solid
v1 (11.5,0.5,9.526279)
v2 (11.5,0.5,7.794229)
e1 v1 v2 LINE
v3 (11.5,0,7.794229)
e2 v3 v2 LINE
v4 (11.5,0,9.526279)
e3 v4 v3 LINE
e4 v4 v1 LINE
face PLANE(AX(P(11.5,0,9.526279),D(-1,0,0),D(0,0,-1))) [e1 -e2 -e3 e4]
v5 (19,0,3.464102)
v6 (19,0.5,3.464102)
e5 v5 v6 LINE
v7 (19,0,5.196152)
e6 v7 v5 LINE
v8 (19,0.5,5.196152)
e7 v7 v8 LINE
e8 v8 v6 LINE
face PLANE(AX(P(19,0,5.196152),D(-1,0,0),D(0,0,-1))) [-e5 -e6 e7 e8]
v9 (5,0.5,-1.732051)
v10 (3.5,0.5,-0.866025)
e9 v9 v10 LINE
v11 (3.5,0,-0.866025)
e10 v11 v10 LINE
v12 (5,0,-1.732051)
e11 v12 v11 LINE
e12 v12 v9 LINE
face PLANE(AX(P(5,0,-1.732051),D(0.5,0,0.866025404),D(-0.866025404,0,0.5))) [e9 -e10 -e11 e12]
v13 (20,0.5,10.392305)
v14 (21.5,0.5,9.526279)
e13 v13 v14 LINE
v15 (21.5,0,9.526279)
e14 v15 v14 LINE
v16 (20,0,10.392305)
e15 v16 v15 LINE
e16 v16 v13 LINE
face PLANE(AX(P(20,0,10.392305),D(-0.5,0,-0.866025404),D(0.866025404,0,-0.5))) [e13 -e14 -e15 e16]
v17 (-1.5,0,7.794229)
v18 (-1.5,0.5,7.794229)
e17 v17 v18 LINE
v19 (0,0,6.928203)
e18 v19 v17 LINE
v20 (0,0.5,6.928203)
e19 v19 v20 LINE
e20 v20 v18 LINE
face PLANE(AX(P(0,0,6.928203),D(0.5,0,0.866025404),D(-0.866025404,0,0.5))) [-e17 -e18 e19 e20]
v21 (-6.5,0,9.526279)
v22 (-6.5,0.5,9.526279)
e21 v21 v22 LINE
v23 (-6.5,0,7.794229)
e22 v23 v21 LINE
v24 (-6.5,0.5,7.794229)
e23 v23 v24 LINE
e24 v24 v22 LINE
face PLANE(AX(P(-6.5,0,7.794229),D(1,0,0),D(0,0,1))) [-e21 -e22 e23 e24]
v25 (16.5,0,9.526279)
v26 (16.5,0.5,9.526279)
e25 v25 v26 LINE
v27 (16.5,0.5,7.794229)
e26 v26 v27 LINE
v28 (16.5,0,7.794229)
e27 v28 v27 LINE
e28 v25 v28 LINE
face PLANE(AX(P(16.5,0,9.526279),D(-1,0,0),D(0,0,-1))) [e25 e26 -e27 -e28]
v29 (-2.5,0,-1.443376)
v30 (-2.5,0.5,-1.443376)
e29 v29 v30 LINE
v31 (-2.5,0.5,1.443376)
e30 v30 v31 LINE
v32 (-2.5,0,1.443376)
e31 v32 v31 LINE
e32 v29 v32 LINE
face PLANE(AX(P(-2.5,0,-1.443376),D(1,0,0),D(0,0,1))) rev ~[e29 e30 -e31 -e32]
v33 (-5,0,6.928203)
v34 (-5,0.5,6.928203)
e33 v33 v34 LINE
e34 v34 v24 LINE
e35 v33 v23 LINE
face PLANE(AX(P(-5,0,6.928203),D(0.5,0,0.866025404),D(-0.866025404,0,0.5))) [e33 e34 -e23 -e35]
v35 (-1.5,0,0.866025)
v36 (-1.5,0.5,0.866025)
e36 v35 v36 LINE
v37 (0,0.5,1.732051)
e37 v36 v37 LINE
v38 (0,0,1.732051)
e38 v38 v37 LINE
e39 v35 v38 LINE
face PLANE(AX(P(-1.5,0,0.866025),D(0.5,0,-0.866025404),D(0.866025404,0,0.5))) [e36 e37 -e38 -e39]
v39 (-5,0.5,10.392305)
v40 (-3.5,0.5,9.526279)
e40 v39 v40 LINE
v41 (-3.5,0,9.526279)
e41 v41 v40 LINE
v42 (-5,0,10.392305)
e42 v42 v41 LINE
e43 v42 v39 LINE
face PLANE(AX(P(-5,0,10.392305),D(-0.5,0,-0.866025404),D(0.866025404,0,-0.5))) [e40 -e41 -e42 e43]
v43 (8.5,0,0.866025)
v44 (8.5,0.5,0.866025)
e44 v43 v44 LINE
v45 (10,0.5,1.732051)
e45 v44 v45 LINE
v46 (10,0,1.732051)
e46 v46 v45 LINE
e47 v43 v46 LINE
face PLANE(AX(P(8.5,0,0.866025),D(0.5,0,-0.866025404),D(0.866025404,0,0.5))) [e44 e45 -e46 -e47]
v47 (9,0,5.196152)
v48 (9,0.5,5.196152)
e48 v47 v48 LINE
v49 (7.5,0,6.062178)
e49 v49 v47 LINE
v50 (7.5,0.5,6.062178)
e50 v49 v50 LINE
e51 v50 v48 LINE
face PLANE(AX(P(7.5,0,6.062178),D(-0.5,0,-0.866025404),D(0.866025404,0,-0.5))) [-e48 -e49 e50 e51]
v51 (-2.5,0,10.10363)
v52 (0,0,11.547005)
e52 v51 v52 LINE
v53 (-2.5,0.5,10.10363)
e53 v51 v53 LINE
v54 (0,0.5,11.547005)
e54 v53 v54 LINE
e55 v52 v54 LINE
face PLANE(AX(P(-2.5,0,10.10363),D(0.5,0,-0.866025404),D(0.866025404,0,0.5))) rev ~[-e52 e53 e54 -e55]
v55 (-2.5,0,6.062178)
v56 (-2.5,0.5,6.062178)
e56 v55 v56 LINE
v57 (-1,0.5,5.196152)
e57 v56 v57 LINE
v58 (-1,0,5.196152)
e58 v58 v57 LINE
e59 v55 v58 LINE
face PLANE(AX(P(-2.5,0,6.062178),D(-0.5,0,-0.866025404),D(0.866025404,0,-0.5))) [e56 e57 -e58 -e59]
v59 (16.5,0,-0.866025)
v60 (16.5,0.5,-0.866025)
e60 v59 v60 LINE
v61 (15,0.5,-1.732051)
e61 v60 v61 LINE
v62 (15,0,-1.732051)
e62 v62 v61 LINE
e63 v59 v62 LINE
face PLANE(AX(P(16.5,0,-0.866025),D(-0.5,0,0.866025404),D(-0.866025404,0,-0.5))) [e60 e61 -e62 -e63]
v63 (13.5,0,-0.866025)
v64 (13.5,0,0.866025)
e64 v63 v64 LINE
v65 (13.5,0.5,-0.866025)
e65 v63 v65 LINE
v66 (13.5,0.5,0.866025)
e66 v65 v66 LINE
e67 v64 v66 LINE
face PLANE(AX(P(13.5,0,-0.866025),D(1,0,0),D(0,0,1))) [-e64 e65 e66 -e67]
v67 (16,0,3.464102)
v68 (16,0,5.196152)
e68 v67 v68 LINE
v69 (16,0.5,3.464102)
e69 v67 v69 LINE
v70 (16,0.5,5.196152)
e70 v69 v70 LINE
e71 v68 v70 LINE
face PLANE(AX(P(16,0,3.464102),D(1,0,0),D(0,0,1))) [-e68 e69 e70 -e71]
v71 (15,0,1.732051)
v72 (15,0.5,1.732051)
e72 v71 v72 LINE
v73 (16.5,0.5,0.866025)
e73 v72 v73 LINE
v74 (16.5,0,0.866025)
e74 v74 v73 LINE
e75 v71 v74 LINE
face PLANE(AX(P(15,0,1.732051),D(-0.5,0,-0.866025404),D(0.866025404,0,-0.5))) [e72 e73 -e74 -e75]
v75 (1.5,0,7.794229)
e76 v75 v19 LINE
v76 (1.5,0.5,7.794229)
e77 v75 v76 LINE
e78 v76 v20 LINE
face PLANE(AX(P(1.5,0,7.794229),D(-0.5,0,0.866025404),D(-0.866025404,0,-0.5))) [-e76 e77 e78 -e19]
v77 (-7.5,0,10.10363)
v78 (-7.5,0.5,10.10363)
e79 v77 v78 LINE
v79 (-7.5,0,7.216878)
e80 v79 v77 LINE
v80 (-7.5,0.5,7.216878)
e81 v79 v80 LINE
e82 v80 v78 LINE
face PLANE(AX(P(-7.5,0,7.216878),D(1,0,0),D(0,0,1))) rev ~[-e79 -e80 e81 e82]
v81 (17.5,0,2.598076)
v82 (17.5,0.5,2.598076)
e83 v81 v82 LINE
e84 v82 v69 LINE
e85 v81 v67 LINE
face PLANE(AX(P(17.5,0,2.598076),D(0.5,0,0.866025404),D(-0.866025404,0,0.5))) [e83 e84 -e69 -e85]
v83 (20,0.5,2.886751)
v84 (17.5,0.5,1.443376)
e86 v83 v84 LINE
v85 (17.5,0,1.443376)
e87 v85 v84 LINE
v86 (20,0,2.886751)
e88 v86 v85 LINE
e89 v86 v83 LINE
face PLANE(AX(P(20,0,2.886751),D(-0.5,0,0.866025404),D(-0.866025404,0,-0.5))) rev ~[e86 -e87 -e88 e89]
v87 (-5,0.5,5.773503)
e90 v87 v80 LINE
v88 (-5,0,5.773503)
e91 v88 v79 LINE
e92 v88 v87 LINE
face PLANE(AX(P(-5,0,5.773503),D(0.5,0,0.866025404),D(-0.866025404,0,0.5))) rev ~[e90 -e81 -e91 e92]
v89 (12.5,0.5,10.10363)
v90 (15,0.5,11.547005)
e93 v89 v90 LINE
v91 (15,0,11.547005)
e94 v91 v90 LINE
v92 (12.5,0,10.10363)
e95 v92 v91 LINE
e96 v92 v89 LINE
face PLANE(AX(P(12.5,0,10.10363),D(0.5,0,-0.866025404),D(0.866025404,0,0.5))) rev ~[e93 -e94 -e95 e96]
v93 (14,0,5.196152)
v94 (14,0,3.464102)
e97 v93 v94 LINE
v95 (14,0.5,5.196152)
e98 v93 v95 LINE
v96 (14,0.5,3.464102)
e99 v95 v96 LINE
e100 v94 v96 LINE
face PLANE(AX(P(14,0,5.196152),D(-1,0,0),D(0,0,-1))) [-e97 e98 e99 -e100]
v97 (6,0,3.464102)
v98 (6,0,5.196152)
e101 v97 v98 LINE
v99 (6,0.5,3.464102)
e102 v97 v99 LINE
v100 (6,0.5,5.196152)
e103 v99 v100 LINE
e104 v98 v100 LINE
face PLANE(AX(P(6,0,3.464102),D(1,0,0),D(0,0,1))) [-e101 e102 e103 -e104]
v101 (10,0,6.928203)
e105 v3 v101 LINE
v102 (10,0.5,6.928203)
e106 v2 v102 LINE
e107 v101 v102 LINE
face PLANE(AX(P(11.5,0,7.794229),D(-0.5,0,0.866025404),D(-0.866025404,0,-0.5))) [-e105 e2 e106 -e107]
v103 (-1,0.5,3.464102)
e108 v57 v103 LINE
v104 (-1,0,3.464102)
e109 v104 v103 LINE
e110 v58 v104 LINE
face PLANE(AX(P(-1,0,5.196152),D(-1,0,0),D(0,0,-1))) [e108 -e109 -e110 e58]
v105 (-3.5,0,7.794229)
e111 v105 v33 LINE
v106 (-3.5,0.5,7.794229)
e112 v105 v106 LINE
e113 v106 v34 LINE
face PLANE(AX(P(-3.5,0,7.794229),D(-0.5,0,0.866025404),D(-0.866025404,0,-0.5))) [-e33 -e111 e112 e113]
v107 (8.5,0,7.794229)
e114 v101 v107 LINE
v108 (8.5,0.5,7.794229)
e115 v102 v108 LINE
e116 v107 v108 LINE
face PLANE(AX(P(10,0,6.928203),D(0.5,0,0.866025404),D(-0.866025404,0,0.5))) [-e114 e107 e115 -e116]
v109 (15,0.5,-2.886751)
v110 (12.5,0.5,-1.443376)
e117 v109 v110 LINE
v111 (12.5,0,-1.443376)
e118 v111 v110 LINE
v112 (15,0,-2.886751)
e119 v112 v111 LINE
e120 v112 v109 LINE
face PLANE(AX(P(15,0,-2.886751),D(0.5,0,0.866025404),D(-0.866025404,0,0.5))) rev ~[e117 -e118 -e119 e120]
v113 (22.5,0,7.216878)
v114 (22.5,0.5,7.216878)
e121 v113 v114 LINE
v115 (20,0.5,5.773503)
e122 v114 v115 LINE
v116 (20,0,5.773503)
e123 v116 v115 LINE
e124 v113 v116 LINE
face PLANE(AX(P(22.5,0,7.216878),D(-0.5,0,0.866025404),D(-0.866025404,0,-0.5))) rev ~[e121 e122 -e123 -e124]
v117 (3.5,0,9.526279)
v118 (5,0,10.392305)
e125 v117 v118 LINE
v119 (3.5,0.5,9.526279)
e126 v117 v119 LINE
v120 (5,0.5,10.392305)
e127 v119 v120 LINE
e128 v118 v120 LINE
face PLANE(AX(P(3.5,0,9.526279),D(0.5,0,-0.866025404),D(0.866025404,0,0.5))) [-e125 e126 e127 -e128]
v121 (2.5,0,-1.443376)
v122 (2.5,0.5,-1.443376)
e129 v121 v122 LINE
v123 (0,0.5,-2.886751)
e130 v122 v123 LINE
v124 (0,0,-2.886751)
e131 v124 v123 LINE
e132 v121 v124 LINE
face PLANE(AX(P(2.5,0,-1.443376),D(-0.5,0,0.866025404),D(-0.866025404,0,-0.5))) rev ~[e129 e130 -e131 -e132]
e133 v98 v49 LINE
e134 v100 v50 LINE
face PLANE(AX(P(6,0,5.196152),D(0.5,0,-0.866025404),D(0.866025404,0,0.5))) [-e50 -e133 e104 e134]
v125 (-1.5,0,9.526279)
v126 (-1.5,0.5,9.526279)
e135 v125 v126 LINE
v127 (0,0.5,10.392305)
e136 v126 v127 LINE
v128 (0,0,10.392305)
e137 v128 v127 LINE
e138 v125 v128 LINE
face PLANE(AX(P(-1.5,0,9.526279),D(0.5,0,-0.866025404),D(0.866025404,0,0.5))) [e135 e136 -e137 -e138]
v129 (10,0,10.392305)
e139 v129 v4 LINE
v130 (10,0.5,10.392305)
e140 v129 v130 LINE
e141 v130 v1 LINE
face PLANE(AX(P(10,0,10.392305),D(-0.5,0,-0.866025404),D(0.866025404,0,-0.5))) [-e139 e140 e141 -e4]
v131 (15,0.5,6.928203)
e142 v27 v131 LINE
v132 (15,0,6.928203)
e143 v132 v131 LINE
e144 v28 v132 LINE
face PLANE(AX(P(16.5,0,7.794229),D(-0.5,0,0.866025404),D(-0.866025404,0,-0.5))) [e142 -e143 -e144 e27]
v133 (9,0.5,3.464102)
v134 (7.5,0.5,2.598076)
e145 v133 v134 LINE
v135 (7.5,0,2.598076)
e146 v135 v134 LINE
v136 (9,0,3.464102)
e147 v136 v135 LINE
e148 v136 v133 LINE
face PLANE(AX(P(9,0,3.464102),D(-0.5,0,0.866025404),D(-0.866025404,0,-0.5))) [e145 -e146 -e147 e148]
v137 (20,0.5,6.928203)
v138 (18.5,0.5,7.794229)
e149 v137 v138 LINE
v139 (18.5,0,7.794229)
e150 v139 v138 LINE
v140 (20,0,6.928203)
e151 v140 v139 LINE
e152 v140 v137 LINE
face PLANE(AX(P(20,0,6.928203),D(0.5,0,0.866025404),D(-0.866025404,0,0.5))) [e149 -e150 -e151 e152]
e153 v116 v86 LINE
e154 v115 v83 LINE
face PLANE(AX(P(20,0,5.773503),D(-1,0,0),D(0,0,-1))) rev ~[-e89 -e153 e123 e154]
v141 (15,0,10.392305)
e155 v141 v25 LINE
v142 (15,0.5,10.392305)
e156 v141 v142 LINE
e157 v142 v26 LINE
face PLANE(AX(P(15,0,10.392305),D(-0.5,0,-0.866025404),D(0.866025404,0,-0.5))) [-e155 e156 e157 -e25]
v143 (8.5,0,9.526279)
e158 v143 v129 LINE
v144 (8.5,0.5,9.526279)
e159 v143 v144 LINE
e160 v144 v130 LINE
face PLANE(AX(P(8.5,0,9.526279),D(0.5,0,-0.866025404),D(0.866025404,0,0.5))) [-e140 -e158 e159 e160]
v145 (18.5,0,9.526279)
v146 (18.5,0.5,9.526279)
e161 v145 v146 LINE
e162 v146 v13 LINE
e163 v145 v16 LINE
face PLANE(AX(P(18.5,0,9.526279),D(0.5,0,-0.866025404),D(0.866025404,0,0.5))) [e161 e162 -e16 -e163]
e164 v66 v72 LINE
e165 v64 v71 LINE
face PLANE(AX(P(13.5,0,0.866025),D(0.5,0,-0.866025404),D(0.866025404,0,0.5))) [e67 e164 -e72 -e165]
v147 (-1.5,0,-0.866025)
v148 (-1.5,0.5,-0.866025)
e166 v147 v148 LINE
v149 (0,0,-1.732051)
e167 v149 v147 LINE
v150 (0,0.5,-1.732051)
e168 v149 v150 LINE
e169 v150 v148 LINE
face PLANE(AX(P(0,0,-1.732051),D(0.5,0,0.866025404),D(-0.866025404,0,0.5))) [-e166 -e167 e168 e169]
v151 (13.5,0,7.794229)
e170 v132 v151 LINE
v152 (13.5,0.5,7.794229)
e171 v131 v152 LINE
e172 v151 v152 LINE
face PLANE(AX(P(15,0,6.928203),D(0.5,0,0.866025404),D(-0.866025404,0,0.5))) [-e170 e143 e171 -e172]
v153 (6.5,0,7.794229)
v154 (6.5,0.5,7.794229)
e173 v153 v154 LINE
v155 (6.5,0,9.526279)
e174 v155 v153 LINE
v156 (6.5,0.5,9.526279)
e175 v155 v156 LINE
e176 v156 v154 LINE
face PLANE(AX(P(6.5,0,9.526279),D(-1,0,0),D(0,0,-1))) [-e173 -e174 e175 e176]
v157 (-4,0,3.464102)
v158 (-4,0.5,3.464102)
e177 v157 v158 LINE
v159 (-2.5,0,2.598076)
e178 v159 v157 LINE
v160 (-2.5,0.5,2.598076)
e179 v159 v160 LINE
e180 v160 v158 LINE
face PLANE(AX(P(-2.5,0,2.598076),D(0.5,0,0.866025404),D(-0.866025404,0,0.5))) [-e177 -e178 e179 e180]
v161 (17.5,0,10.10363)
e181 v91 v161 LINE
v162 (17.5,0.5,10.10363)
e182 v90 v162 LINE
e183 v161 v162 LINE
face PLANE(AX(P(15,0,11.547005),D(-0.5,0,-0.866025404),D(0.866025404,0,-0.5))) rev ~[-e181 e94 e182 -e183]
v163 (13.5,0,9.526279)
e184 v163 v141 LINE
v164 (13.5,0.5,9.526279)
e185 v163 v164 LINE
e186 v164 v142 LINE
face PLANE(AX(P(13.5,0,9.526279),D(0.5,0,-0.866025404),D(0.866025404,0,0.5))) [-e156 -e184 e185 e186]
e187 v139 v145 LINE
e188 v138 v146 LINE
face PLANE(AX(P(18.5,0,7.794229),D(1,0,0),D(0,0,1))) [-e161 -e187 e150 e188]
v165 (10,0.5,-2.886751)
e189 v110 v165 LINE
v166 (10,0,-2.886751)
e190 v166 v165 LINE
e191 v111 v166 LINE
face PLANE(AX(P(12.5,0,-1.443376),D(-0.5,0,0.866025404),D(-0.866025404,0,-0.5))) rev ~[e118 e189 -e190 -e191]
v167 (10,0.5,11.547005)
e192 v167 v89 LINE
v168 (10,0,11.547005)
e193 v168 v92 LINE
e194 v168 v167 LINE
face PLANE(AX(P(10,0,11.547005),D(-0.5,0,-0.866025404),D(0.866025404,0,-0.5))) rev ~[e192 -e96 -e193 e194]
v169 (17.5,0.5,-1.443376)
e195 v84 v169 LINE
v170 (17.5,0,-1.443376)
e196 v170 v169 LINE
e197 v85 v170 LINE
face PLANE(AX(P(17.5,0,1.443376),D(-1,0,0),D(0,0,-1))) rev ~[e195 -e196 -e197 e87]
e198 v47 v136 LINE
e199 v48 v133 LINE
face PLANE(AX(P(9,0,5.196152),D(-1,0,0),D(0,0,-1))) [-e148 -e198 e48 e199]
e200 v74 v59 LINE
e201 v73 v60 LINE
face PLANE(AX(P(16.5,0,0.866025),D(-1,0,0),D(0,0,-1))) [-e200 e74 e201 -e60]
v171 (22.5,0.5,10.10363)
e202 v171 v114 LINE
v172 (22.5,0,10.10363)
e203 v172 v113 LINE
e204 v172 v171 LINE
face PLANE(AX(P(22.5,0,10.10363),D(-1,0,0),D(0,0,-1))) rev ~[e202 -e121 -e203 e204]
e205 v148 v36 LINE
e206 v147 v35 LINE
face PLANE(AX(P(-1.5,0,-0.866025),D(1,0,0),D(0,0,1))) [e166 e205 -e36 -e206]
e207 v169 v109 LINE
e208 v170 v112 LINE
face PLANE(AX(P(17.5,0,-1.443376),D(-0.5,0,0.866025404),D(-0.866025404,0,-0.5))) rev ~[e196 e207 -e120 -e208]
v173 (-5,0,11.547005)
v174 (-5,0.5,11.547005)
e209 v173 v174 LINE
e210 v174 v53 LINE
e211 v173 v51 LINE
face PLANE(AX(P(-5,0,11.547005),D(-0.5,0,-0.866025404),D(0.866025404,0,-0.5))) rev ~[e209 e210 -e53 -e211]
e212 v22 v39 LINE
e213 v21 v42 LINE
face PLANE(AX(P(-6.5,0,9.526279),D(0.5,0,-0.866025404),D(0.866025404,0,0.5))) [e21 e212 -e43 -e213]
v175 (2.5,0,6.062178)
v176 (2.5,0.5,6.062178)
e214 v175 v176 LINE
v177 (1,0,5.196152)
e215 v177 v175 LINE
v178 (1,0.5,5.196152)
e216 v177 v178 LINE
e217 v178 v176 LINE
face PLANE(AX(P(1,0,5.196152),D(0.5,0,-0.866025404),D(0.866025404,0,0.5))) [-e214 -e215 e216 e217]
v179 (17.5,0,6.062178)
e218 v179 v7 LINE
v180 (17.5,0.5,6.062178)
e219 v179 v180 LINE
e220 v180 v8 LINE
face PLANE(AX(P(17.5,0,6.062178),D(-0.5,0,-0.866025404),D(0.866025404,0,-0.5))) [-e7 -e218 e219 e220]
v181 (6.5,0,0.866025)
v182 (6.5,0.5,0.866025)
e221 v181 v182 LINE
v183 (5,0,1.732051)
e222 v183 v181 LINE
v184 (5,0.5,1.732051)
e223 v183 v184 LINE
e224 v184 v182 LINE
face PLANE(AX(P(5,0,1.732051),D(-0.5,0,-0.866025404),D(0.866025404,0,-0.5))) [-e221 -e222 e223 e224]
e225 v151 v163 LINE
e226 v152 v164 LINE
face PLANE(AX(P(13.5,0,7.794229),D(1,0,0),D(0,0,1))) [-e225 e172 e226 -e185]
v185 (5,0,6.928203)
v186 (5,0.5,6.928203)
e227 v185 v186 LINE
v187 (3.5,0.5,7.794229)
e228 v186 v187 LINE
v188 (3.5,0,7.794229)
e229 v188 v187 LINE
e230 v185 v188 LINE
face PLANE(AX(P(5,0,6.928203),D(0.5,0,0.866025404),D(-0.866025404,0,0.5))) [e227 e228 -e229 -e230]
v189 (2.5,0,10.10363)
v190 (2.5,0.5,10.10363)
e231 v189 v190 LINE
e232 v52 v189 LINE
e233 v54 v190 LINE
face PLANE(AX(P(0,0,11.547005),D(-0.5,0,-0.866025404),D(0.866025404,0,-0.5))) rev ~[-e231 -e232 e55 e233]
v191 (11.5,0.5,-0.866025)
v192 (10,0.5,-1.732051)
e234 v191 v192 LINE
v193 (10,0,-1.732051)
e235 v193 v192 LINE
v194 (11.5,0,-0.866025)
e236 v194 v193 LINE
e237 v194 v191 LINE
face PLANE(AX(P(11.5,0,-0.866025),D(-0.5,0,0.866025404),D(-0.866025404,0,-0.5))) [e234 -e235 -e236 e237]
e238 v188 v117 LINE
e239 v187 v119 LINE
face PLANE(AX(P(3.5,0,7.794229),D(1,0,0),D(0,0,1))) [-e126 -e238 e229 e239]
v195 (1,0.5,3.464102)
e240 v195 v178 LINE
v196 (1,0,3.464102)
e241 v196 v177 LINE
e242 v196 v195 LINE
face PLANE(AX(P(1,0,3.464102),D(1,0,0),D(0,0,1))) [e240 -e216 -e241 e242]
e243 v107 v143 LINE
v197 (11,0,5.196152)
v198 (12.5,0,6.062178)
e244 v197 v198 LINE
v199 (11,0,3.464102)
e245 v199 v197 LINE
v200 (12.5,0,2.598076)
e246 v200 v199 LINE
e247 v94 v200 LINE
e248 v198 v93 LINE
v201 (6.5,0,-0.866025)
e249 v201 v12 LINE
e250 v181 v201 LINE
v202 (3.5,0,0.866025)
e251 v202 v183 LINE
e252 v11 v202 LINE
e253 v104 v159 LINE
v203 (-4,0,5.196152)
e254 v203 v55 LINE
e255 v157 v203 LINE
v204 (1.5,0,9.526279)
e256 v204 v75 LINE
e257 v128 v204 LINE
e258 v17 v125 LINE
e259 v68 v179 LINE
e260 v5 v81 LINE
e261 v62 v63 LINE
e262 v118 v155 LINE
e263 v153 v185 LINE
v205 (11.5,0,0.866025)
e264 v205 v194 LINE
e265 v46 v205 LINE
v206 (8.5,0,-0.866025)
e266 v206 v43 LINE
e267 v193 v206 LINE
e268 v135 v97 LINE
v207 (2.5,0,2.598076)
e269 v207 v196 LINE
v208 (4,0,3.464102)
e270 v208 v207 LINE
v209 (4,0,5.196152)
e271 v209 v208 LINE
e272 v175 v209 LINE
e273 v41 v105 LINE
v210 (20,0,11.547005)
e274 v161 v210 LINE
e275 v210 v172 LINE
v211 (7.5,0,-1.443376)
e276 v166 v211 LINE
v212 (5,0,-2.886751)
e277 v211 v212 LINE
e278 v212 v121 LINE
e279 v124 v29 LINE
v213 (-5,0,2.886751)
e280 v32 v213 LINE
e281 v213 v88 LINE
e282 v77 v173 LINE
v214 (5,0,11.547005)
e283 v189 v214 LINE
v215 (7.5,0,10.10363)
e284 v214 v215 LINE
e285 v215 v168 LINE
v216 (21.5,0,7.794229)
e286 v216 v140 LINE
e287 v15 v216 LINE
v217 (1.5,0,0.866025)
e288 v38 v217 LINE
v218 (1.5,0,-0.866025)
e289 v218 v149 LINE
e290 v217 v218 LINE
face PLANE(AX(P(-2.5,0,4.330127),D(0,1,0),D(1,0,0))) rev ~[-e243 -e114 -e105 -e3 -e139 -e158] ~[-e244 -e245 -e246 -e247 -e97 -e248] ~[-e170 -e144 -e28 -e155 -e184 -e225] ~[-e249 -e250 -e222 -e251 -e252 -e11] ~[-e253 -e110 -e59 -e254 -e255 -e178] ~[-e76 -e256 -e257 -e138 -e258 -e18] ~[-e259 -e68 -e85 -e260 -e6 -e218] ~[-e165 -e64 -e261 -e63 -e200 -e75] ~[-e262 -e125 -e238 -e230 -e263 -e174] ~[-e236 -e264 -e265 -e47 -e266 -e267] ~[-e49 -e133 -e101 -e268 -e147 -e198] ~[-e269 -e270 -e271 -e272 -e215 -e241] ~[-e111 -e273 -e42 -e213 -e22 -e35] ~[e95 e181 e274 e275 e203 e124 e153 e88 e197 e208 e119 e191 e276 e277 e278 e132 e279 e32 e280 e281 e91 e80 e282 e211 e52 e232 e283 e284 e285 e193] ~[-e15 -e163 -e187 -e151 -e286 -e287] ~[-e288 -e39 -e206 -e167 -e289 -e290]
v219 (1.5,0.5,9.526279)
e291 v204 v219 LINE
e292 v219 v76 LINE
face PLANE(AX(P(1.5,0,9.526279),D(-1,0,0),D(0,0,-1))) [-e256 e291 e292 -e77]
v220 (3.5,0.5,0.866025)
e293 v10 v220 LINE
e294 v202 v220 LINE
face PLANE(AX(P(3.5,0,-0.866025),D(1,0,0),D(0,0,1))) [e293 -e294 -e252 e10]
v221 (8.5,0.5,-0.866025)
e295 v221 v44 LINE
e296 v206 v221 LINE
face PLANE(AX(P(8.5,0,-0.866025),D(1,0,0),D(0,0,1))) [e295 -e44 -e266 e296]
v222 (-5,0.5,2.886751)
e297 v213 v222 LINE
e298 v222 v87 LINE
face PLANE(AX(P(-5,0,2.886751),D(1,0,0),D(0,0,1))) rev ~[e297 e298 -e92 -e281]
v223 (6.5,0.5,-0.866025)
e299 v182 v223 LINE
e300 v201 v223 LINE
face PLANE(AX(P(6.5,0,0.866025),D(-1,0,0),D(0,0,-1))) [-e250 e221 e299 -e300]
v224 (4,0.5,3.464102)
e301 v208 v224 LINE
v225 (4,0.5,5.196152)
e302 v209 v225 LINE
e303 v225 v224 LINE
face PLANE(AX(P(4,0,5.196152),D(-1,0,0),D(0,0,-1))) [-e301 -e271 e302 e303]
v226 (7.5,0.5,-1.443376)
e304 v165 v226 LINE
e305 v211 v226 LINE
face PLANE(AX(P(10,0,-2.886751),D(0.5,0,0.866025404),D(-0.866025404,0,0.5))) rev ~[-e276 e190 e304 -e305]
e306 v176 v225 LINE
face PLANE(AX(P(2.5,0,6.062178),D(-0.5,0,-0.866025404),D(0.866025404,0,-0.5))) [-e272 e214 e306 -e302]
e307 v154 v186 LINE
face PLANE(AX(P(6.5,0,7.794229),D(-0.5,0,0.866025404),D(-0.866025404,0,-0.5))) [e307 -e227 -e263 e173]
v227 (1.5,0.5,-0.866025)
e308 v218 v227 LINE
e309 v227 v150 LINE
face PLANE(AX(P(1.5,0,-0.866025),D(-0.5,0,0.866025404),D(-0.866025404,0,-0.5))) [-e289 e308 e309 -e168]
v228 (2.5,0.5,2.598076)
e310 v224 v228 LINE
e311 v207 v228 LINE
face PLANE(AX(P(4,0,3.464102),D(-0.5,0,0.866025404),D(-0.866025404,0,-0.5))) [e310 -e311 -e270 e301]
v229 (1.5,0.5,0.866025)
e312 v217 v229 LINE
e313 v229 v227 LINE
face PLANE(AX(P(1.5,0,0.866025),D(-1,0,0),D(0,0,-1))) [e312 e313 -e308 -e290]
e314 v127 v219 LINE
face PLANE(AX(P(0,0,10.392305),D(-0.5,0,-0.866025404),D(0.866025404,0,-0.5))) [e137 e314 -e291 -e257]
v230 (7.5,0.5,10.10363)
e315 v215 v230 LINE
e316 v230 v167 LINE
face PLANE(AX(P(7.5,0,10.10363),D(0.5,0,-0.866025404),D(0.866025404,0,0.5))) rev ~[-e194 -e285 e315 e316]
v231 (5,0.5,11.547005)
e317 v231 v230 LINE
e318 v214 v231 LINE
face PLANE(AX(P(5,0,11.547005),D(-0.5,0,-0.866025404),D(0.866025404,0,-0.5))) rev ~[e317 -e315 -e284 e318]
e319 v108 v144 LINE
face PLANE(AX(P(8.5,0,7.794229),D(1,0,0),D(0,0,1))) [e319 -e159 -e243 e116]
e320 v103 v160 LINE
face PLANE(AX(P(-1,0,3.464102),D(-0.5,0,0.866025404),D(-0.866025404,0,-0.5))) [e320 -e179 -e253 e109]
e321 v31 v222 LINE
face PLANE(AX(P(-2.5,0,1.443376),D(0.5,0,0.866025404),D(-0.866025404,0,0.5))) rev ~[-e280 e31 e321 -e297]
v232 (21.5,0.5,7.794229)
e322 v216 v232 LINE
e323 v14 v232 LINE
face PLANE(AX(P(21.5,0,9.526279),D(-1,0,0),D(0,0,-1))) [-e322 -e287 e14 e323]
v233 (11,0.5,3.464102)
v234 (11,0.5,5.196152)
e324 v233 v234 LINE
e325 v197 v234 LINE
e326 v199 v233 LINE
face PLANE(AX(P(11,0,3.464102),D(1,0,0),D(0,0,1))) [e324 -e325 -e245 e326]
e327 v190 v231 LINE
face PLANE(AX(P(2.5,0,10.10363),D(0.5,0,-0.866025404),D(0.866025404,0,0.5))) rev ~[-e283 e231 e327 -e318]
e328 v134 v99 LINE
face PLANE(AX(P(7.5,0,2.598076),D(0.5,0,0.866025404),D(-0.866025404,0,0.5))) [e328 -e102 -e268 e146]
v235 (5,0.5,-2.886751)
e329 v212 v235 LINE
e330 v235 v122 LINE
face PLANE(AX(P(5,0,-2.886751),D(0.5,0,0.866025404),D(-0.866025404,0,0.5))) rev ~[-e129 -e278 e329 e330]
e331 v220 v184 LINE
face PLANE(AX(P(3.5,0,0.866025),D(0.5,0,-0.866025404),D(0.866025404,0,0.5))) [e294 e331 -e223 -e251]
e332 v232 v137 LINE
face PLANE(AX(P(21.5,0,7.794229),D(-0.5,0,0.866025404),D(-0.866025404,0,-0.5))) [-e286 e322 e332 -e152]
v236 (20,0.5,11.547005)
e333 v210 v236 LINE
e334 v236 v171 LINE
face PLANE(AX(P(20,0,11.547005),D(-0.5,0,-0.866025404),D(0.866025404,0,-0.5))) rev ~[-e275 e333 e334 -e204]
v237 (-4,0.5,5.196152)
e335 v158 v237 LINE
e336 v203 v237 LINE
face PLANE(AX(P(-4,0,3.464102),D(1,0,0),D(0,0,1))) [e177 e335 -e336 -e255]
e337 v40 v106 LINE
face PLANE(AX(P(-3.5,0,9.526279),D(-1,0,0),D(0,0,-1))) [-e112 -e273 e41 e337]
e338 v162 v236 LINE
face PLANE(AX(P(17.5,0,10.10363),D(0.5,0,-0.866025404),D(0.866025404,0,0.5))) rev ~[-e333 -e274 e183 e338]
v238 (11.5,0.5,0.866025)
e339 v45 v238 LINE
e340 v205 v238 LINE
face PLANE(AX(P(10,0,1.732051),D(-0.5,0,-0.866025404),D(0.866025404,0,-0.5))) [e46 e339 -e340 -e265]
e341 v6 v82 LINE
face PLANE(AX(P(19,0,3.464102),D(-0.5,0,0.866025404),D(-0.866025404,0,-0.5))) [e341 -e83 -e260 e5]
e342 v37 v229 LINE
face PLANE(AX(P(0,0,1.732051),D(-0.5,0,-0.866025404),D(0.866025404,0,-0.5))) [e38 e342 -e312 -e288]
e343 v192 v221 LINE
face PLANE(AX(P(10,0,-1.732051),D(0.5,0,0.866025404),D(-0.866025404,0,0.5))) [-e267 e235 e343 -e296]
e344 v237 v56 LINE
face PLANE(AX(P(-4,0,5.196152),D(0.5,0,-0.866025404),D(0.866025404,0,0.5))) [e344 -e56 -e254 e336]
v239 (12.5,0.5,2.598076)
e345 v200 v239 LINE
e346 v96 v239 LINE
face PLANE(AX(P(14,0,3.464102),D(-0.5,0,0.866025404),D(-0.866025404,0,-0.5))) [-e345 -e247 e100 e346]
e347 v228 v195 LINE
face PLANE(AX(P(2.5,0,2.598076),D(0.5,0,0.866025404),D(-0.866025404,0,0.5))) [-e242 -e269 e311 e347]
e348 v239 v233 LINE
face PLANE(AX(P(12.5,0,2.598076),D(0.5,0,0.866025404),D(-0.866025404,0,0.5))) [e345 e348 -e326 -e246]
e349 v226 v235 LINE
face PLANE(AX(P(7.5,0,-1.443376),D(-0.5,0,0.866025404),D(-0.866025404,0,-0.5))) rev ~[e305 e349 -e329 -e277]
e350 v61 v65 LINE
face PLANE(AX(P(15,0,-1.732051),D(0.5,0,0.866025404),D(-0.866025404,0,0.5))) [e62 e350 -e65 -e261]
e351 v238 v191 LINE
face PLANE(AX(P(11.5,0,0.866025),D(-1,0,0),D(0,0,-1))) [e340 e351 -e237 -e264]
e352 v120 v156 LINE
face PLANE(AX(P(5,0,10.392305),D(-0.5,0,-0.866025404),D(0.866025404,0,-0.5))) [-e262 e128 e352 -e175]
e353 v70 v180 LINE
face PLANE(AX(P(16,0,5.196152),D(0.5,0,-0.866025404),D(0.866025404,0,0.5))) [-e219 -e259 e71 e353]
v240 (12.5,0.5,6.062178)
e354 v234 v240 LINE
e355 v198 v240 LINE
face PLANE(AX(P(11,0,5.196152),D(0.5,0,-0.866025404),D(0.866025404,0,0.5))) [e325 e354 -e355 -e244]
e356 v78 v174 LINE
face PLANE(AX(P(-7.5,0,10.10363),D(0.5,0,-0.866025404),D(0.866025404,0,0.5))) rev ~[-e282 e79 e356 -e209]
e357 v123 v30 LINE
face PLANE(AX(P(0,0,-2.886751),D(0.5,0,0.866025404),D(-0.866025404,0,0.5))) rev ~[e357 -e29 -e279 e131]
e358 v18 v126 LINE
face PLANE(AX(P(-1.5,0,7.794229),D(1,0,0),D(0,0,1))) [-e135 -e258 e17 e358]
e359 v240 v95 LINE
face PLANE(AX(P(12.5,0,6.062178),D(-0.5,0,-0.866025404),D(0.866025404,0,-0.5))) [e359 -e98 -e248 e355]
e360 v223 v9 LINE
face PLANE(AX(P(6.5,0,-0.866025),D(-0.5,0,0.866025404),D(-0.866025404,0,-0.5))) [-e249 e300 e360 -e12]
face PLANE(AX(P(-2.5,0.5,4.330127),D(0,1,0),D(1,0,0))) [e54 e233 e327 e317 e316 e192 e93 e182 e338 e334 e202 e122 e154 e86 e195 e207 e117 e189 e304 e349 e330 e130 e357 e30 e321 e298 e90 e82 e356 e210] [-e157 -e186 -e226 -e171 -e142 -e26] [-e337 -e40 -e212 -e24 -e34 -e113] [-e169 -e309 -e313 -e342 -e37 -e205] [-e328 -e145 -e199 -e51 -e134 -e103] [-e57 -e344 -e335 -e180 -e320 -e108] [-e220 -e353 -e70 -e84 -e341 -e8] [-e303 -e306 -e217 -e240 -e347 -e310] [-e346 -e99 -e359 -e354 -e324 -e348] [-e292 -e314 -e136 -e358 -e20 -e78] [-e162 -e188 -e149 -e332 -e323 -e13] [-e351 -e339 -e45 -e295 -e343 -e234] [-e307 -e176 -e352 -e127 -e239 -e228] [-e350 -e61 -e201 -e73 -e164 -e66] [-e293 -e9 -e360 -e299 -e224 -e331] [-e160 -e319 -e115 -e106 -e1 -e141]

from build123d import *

# Parameters (mm, degrees)
BOSS_EXTRUDE2_DEPTH = 0.5


with BuildPart() as part:
    # Sketch1 → Boss-Extrude2 (new body)
    with BuildSketch(Plane(origin=(0, 0, 0), x_dir=(1, 0, 0), z_dir=(0, 1, 0))):
        Polygon((-2.5, -7.216878365), (0, -5.773502692), (0, -2.886751346), (-2.5, -1.443375673), (-5, -2.886751346), (-5, -5.773502692), align=None)
        Polygon((-1, -3.464101615), (-2.5, -2.598076211), (-4, -3.464101615), (-4, -5.196152423), (-2.5, -6.062177826), (-1, -5.196152423), align=None, mode=Mode.SUBTRACT)
        Polygon((-5, -11.547005384), (-2.5, -10.103629711), (-2.5, -7.216878365), (-5, -5.773502692), (-7.5, -7.216878365), (-7.5, -10.103629711), align=None)
        Polygon((-3.5, -7.794228634), (-5, -6.92820323), (-6.5, -7.794228634), (-6.5, -9.526279442), (-5, -10.392304845), (-3.5, -9.526279442), align=None, mode=Mode.SUBTRACT)
        Polygon((0, -11.547005384), (2.5, -10.103629711), (2.5, -7.216878365), (0, -5.773502692), (-2.5, -7.216878365), (-2.5, -10.103629711), align=None)
        Polygon((1.5, -7.794228634), (0, -6.92820323), (-1.5, -7.794228634), (-1.5, -9.526279442), (0, -10.392304845), (1.5, -9.526279442), align=None, mode=Mode.SUBTRACT)
        Polygon((5, -11.547005384), (7.5, -10.103629711), (7.5, -7.216878365), (5, -5.773502692), (2.5, -7.216878365), (2.5, -10.103629711), align=None)
        Polygon((6.5, -7.794228634), (5, -6.92820323), (3.5, -7.794228634), (3.5, -9.526279442), (5, -10.392304845), (6.5, -9.526279442), align=None, mode=Mode.SUBTRACT)
        Polygon((2.5, -7.216878365), (5, -5.773502692), (5, -2.886751346), (2.5, -1.443375673), (0, -2.886751346), (0, -5.773502692), align=None)
        Polygon((4, -3.464101615), (2.5, -2.598076211), (1, -3.464101615), (1, -5.196152423), (2.5, -6.062177826), (4, -5.196152423), align=None, mode=Mode.SUBTRACT)
        Polygon((2.5, -1.443375673), (2.5, 1.443375673), (0, 2.886751346), (-2.5, 1.443375673), (-2.5, -1.443375673), (0, -2.886751346), align=None)
        Polygon((1.5, 0.866025404), (0, 1.732050808), (-1.5, 0.866025404), (-1.5, -0.866025404), (0, -1.732050808), (1.5, -0.866025404), align=None, mode=Mode.SUBTRACT)
        Polygon((7.5, -1.443375673), (7.5, 1.443375673), (5, 2.886751346), (2.5, 1.443375673), (2.5, -1.443375673), (5, -2.886751346), align=None)
        Polygon((6.5, 0.866025404), (5, 1.732050808), (3.5, 0.866025404), (3.5, -0.866025404), (5, -1.732050808), (6.5, -0.866025404), align=None, mode=Mode.SUBTRACT)
        Polygon((7.5, -7.216878365), (10, -5.773502692), (10, -2.886751346), (7.5, -1.443375673), (5, -2.886751346), (5, -5.773502692), align=None)
        Polygon((9, -3.464101615), (7.5, -2.598076211), (6, -3.464101615), (6, -5.196152423), (7.5, -6.062177826), (9, -5.196152423), align=None, mode=Mode.SUBTRACT)
        Polygon((10, -11.547005384), (12.5, -10.103629711), (12.5, -7.216878365), (10, -5.773502692), (7.5, -7.216878365), (7.5, -10.103629711), align=None)
        Polygon((11.5, -7.794228634), (10, -6.92820323), (8.5, -7.794228634), (8.5, -9.526279442), (10, -10.392304845), (11.5, -9.526279442), align=None, mode=Mode.SUBTRACT)
        Polygon((22.5, -10.103629711), (22.5, -7.216878365), (20, -5.773502692), (17.5, -7.216878365), (17.5, -10.103629711), (20, -11.547005384), align=None)
        Polygon((21.5, -7.794228634), (20, -6.92820323), (18.5, -7.794228634), (18.5, -9.526279442), (20, -10.392304845), (21.5, -9.526279442), align=None, mode=Mode.SUBTRACT)
        Polygon((15, -11.547005384), (17.5, -10.103629711), (17.5, -7.216878365), (15, -5.773502692), (12.5, -7.216878365), (12.5, -10.103629711), align=None)
        Polygon((16.5, -7.794228634), (15, -6.92820323), (13.5, -7.794228634), (13.5, -9.526279442), (15, -10.392304845), (16.5, -9.526279442), align=None, mode=Mode.SUBTRACT)
        Polygon((20, -5.773502692), (20, -2.886751346), (17.5, -1.443375673), (15, -2.886751346), (15, -5.773502692), (17.5, -7.216878365), align=None)
        Polygon((19, -3.464101615), (17.5, -2.598076211), (16, -3.464101615), (16, -5.196152423), (17.5, -6.062177826), (19, -5.196152423), align=None, mode=Mode.SUBTRACT)
        Polygon((12.5, -7.216878365), (15, -5.773502692), (15, -2.886751346), (12.5, -1.443375673), (10, -2.886751346), (10, -5.773502692), align=None)
        Polygon((14, -3.464101615), (12.5, -2.598076211), (11, -3.464101615), (11, -5.196152423), (12.5, -6.062177826), (14, -5.196152423), align=None, mode=Mode.SUBTRACT)
        Polygon((17.5, -1.443375673), (17.5, 1.443375673), (15, 2.886751346), (12.5, 1.443375673), (12.5, -1.443375673), (15, -2.886751346), align=None)
        Polygon((16.5, 0.866025404), (15, 1.732050808), (13.5, 0.866025404), (13.5, -0.866025404), (15, -1.732050808), (16.5, -0.866025404), align=None, mode=Mode.SUBTRACT)
        Polygon((12.5, -1.443375673), (12.5, 1.443375673), (10, 2.886751346), (7.5, 1.443375673), (7.5, -1.443375673), (10, -2.886751346), align=None)
        Polygon((11.5, 0.866025404), (10, 1.732050808), (8.5, 0.866025404), (8.5, -0.866025404), (10, -1.732050808), (11.5, -0.866025404), align=None, mode=Mode.SUBTRACT)
    extrude(amount=BOSS_EXTRUDE2_DEPTH)


solid = part.part
